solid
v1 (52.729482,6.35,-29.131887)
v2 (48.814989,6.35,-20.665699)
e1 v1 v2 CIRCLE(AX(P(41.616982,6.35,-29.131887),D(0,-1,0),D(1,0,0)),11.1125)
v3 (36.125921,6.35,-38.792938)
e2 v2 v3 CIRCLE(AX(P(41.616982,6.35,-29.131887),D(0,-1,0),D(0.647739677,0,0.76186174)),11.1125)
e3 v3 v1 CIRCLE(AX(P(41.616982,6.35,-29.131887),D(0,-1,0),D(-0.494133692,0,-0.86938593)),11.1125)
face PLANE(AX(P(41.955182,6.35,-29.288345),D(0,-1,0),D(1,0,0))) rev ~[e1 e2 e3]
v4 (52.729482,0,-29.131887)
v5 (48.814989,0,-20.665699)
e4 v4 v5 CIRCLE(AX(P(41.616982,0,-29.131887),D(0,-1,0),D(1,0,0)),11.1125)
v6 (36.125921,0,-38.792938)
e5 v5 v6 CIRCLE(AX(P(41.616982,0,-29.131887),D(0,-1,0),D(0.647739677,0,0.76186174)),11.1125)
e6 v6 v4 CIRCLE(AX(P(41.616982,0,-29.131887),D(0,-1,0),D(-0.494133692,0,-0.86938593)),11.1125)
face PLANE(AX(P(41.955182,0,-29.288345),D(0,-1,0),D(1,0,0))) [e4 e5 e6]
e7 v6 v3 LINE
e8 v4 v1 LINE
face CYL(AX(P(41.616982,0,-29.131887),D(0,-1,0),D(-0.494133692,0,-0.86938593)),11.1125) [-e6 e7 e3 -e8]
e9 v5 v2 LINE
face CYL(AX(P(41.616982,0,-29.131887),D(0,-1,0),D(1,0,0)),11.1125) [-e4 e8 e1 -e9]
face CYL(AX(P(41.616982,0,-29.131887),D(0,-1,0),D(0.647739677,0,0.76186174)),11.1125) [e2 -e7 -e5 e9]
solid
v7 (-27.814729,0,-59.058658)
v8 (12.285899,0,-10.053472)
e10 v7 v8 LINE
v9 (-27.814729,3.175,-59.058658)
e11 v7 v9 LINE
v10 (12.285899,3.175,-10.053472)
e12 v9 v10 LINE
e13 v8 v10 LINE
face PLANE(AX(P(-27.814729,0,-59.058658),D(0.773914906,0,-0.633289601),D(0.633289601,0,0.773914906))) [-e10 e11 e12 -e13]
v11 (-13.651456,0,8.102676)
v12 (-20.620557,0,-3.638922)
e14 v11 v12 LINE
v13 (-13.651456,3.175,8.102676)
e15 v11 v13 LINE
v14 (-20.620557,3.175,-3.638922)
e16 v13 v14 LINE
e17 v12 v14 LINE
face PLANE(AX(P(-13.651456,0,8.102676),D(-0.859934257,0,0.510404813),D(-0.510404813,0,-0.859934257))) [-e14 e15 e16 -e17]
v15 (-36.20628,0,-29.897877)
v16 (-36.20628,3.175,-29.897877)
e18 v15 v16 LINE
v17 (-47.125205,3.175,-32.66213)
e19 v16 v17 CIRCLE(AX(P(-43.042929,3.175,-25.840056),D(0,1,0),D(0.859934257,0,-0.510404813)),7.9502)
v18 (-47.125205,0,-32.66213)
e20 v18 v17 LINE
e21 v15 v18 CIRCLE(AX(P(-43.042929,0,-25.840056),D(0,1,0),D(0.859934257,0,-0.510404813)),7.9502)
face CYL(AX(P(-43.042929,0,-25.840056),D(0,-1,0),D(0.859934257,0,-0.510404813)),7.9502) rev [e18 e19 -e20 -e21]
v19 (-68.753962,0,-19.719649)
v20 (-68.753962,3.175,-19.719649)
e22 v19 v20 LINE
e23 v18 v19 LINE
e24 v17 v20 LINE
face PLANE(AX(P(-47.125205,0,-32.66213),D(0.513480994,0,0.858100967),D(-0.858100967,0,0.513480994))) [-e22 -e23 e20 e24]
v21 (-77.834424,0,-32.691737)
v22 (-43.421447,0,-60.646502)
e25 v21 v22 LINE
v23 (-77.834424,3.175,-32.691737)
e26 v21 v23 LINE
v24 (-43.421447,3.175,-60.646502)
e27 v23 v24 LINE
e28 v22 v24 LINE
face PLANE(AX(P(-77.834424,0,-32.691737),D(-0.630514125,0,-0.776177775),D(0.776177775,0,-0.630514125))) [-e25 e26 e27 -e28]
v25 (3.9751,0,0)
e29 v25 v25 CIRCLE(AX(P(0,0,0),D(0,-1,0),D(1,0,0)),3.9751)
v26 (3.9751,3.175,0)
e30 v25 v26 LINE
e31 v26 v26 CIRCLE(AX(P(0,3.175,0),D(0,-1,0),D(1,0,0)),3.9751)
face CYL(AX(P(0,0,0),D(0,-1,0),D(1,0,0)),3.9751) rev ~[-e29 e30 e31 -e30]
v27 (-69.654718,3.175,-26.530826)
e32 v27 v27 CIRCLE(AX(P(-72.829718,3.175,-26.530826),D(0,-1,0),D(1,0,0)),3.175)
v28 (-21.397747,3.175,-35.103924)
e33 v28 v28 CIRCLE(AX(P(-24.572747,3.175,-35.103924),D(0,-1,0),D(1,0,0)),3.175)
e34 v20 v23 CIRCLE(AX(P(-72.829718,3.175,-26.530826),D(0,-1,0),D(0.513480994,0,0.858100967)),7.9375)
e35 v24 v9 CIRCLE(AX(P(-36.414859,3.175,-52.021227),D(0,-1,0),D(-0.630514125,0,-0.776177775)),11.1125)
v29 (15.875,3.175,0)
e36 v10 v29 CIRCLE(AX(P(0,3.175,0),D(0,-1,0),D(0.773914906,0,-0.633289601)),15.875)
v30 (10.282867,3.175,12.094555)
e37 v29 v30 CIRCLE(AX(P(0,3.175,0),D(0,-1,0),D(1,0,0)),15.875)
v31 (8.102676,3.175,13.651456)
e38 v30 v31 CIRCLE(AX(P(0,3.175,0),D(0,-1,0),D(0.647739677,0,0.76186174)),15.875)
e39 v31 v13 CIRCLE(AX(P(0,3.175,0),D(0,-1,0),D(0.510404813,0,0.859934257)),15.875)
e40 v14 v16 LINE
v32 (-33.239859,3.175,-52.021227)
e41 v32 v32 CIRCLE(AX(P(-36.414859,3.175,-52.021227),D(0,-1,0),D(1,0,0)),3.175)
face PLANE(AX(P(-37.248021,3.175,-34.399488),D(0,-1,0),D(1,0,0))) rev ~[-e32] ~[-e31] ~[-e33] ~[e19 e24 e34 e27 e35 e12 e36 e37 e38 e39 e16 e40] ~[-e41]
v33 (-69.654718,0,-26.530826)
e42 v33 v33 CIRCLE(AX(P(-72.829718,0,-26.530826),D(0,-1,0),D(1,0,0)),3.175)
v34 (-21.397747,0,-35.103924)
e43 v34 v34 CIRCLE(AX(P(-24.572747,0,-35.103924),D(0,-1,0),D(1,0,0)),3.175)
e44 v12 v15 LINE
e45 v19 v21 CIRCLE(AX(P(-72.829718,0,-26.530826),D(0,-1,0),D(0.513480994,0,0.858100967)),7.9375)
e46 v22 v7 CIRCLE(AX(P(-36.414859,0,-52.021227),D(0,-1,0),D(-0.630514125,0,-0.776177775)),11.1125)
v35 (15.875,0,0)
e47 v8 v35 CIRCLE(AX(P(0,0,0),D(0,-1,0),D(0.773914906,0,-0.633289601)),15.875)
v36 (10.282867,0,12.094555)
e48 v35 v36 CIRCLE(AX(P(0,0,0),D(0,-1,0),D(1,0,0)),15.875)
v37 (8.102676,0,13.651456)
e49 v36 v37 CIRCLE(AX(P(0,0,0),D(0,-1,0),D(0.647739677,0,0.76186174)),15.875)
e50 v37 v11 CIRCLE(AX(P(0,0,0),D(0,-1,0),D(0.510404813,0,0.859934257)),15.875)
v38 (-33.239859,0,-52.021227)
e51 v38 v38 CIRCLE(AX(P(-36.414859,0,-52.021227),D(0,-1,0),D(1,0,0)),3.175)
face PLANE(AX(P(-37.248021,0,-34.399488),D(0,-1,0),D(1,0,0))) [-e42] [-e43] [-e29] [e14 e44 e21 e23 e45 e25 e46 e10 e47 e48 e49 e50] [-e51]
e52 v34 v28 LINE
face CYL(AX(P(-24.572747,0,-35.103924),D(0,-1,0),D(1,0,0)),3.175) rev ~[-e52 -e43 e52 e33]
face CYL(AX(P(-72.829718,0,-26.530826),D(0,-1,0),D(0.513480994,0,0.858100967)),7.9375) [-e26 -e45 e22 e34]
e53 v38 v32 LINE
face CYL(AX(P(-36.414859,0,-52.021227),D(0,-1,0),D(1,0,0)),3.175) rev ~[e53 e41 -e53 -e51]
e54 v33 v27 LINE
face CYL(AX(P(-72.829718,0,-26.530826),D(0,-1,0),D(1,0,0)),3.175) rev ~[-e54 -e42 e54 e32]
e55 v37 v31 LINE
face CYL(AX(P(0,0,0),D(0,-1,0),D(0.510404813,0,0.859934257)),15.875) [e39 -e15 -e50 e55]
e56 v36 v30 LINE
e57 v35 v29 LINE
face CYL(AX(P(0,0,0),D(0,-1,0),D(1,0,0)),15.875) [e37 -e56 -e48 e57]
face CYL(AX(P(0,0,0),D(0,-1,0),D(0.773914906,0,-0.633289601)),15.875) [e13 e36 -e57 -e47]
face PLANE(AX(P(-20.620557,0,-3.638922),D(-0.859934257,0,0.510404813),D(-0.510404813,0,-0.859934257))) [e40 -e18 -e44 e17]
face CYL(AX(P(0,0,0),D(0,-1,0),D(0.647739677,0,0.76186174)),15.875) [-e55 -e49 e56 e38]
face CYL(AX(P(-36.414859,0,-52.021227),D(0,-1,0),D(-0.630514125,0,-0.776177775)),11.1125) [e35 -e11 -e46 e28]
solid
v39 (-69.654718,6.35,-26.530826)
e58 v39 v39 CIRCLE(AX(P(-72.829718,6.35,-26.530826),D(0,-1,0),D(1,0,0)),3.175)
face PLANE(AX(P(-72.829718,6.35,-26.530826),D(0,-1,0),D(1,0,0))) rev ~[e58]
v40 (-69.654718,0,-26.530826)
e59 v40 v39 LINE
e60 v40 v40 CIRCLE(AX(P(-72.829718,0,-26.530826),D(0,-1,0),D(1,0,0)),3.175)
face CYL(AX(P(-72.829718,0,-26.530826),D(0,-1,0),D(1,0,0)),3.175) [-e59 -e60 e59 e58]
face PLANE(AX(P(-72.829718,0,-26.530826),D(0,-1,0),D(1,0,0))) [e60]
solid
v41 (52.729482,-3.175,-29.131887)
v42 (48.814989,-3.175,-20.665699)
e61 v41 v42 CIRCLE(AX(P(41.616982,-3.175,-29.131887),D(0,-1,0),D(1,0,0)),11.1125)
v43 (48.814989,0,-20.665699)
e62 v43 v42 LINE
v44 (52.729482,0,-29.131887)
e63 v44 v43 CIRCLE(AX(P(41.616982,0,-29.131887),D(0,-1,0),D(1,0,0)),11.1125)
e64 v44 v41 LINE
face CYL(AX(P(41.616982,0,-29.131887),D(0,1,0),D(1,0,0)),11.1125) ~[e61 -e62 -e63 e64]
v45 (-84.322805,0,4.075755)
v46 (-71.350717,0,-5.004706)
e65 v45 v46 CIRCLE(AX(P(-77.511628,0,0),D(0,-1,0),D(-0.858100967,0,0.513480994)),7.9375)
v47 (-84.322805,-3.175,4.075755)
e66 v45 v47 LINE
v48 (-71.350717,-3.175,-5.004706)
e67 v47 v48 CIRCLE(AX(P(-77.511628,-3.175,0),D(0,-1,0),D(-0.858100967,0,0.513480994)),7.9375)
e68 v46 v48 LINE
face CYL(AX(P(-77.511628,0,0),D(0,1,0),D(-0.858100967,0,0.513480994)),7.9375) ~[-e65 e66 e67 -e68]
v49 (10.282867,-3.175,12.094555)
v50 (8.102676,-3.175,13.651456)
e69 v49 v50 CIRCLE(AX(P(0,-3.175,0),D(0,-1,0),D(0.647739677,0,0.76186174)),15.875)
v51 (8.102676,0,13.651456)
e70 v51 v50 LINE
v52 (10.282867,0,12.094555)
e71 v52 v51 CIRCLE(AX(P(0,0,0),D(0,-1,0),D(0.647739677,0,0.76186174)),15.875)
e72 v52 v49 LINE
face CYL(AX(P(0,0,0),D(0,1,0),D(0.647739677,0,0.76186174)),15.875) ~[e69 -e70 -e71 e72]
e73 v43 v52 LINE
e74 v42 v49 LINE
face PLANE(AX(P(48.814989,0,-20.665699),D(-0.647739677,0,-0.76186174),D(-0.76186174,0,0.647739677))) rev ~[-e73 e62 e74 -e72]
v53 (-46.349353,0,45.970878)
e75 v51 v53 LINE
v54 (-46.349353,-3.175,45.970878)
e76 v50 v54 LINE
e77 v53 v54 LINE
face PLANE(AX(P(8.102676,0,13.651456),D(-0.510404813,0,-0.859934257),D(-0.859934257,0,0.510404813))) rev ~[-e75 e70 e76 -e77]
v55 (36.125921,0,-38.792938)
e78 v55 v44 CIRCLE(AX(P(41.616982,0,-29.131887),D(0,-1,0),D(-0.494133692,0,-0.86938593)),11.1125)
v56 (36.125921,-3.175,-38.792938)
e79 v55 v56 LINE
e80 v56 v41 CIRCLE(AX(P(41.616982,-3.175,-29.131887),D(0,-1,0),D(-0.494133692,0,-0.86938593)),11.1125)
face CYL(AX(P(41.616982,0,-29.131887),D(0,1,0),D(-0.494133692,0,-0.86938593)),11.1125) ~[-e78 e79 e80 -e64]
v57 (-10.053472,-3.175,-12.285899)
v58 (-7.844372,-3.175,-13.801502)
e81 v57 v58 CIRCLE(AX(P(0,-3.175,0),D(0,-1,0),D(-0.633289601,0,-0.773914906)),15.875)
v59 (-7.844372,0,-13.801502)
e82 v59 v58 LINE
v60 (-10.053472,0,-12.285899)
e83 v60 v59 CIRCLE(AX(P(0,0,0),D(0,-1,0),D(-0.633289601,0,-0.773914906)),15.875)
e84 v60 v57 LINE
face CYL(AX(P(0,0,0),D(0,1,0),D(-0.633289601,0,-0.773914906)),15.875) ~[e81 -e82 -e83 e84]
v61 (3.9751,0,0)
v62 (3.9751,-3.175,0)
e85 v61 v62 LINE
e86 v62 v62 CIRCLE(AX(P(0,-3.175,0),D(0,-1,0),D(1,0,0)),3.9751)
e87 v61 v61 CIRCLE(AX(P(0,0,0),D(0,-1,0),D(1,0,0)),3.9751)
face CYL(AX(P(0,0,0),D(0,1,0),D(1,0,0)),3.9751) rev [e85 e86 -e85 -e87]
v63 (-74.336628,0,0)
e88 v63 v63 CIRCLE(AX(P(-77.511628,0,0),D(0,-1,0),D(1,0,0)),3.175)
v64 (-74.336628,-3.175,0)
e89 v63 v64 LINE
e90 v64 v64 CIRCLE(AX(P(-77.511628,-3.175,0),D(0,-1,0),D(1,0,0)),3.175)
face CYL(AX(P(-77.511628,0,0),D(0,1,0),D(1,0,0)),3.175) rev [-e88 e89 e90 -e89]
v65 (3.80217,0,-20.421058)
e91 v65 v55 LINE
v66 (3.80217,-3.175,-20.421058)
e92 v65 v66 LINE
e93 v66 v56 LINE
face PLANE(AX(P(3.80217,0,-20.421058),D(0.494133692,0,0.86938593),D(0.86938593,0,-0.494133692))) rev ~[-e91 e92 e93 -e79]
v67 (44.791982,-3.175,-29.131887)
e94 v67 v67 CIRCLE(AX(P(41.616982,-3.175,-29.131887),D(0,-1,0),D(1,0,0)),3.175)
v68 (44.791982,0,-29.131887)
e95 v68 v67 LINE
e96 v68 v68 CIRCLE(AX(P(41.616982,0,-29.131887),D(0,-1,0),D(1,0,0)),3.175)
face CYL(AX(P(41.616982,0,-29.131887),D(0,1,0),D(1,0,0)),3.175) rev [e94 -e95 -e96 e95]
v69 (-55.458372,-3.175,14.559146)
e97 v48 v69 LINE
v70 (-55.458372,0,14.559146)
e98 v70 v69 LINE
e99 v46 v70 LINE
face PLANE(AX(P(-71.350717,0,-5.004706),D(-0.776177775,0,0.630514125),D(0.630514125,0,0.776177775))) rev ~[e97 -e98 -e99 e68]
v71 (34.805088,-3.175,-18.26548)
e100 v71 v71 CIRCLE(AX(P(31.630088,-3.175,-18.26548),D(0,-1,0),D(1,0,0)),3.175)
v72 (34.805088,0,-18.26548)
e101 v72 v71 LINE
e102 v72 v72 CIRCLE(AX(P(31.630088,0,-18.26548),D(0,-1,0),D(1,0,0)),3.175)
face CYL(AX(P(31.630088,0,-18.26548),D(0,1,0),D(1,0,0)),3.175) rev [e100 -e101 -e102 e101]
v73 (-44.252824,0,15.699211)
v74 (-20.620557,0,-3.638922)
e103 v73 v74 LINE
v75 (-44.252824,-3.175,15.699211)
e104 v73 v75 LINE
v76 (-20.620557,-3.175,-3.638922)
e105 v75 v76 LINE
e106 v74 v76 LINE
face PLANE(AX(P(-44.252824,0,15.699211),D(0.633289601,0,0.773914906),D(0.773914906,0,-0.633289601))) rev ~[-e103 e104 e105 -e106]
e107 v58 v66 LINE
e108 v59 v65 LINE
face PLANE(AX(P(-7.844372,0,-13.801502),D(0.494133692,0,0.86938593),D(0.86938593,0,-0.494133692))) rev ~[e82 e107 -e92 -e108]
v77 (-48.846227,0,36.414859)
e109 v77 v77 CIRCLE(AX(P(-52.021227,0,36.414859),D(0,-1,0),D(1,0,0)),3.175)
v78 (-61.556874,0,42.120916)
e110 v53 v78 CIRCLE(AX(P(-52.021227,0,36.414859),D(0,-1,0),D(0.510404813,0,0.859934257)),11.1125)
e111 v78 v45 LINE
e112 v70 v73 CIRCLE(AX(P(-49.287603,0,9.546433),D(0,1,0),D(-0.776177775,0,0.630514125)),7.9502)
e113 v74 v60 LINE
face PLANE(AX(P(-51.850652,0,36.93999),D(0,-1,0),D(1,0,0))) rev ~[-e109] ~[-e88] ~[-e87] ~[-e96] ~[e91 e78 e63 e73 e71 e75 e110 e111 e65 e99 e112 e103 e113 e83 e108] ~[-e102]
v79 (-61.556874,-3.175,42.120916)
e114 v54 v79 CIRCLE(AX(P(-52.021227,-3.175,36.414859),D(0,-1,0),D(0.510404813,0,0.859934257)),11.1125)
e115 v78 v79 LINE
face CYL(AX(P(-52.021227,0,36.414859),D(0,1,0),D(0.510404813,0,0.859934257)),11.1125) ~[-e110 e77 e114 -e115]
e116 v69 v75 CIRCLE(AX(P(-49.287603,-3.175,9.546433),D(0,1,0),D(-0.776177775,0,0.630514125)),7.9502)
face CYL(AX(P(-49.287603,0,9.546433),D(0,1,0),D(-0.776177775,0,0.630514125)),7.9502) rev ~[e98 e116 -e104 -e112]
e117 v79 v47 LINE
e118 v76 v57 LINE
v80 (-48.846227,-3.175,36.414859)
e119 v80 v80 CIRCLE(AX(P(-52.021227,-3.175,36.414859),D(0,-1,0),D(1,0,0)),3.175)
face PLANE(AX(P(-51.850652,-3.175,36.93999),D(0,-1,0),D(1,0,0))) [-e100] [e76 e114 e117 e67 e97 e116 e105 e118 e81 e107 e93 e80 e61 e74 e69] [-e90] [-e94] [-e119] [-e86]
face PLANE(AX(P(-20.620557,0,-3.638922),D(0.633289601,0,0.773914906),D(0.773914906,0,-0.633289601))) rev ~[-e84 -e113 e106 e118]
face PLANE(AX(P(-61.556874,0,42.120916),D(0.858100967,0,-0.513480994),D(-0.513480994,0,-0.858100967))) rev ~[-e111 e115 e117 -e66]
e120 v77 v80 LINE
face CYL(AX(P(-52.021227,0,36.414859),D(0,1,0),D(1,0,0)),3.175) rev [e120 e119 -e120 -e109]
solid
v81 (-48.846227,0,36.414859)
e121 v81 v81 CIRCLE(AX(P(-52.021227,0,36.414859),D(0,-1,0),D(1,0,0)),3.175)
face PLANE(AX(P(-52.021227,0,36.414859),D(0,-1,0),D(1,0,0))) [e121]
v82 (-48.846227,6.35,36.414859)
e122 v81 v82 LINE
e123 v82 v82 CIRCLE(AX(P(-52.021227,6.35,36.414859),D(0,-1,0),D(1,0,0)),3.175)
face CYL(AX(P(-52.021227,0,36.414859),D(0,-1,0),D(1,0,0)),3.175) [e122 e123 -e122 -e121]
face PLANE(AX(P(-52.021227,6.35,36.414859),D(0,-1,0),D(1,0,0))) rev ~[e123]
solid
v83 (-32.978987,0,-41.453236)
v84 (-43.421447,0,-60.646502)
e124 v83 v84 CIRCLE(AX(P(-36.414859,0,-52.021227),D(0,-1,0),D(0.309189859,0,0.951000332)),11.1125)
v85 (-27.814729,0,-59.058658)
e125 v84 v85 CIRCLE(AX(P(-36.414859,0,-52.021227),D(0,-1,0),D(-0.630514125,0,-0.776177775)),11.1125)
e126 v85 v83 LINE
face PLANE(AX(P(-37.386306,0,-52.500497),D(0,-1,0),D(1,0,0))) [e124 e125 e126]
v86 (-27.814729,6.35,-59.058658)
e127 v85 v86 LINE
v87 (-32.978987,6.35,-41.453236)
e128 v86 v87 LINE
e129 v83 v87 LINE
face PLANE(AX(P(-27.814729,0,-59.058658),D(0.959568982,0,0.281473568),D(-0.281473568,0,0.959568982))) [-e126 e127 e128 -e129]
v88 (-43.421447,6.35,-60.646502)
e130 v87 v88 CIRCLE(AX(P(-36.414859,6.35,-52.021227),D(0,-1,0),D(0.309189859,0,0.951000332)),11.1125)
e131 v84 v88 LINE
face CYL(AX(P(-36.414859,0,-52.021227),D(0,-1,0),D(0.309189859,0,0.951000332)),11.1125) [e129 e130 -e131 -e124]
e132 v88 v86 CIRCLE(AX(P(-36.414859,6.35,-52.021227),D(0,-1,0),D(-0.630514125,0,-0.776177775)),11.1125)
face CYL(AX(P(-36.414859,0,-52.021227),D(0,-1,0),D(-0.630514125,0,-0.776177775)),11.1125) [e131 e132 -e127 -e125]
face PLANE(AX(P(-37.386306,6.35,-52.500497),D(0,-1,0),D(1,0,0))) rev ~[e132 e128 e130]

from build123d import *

# Parameters (mm, degrees)
F0_R     = 3.175
F0_R_2   = 3.9751
F1_DEPTH = 3.175
F2_DEPTH = 3.175
F3_DEPTH = 6.35


with BuildPart() as f1:
    # F0 (on Front) → F1 (new body)
    with BuildSketch(Plane.XZ):
        with BuildLine():
            ThreePointArc((-46.3493534686, 45.9708783013), (-54.7484486293, 47.1875056253), (-61.5568739456, 42.1209164099))
            ThreePointArc((-61.5568739456, 42.1209164099), (-54.9811913991, 25.7038240558), (-40.908726953, 36.4148588671))
            ThreePointArc((-40.908726953, 36.4148588671), (-42.3641997099, 41.9129931941), (-46.3493534686, 45.9708783013))
        make_face()
        with Locations((-52.021226953, 36.4148588671)):
            Circle(F0_R, mode=Mode.SUBTRACT)
        with BuildLine():
            ThreePointArc((-84.3228045832, 4.0757553877), (-75.3973678413, 7.6507391509), (-69.5741281599, 0))
            ThreePointArc((-69.5741281599, 0), (-70.031449753, -2.6553412683), (-71.3507170735, -5.004705869))
            Line((-71.3507170735, -5.004705869), (-55.4583719126, 14.5591462439))
            ThreePointArc((-55.4583719126, 14.5591462439), (-50.0923114236, 17.4558022885), (-44.252824382, 15.6992111283))
            Line((-44.252824382, 15.6992111283), (-20.6205567973, -3.6389217878))
            Line((-20.6205567973, -3.6389217878), (-13.6514563346, 8.1026764062))
            ThreePointArc((-13.6514563346, 8.1026764062), (-3.9235799147, 15.3824947799), (8.1026764062, 13.6514563346))
            Line((8.1026764062, 13.6514563346), (-46.3493534686, 45.9708783013))
            ThreePointArc((-46.3493534686, 45.9708783013), (-42.3641997099, 41.9129931941), (-40.908726953, 36.4148588671))
            ThreePointArc((-40.908726953, 36.4148588671), (-54.9811913991, 25.7038240558), (-61.5568739456, 42.1209164099))
            Line((-61.5568739456, 42.1209164099), (-84.3228045832, 4.0757553877))
        make_face()
        with BuildLine():
            ThreePointArc((-71.3507170735, -5.004705869), (-70.031449753, -2.6553412683), (-69.5741281599, 0))
            ThreePointArc((-69.5741281599, 0), (-75.3973678413, 7.6507391509), (-84.3228045832, 4.0757553877))
            ThreePointArc((-84.3228045832, 4.0757553877), (-82.0634855183, -6.5026533691), (-71.3507170735, -5.004705869))
        make_face()
        with Locations((-77.5116281599, 0)):
            Circle(F0_R, mode=Mode.SUBTRACT)
        with BuildLine():
            ThreePointArc((10.2828673712, 12.0945551231), (9.2256728938, 12.9190783207), (8.1026764062, 13.6514563346))
            ThreePointArc((8.1026764062, 13.6514563346), (-3.9235799147, 15.3824947799), (-13.6514563346, 8.1026764062))
            ThreePointArc((-13.6514563346, 8.1026764062), (-15.6334389962, -2.7588421758), (-10.053472417, -12.2858991271))
            ThreePointArc((-10.053472417, -12.2858991271), (-8.9809506531, -13.0903838892), (-7.8443723578, -13.8015016325))
            ThreePointArc((-7.8443723578, -13.8015016325), (2.9058081081, -15.6067903247), (12.2858991271, -10.053472417))
            ThreePointArc((12.2858991271, -10.053472417), (14.9508239513, -5.3374608363), (15.875, 0))
            ThreePointArc((15.875, 0), (14.4093050582, 6.6623984226), (10.2828673712, 12.0945551231))
        make_face()
        Circle(F0_R_2, mode=Mode.SUBTRACT)
        with BuildLine():
            Line((-13.6514563346, 8.1026764062), (-20.6205567973, -3.6389217878))
            Line((-20.6205567973, -3.6389217878), (-10.053472417, -12.2858991271))
            ThreePointArc((-10.053472417, -12.2858991271), (-15.6334389962, -2.7588421758), (-13.6514563346, 8.1026764062))
        make_face()
        with BuildLine():
            ThreePointArc((12.2858991271, -10.053472417), (2.9058081081, -15.6067903247), (-7.8443723578, -13.8015016325))
            Line((-7.8443723578, -13.8015016325), (3.8021703794, -20.4210579927))
            Line((3.8021703794, -20.4210579927), (12.2858991271, -10.053472417))
        make_face()
        with BuildLine():
            Line((48.8149887222, -20.6656985075), (10.2828673712, 12.0945551231))
            ThreePointArc((10.2828673712, 12.0945551231), (14.4093050582, 6.6623984226), (15.875, 0))
            ThreePointArc((15.875, 0), (14.9508239513, -5.3374608363), (12.2858991271, -10.053472417))
            Line((12.2858991271, -10.053472417), (3.8021703794, -20.4210579927))
            Line((3.8021703794, -20.4210579927), (36.1259209119, -38.7929382364))
            ThreePointArc((36.1259209119, -38.7929382364), (32.5132668456, -22.7592867919), (48.8149887222, -20.6656985075))
        make_face()
        with Locations((31.630088017, -18.2654802039)):
            Circle(F0_R, mode=Mode.SUBTRACT)
        with BuildLine():
            ThreePointArc((52.7294815624, -29.1318870937), (51.7034951031, -24.4682081979), (48.8149887222, -20.6656985075))
            ThreePointArc((48.8149887222, -20.6656985075), (32.5132668456, -22.7592867919), (36.1259209119, -38.7929382364))
            ThreePointArc((36.1259209119, -38.7929382364), (47.2057311887, -38.7367574137), (52.7294815624, -29.1318870937))
        make_face()
        with Locations((41.6169815624, -29.1318870937)):
            Circle(F0_R, mode=Mode.SUBTRACT)
    extrude(amount=F1_DEPTH)


with BuildPart() as f2:
    # F0 (on Front) → F2 (new body)
    with BuildSketch(Plane.XZ):
        with BuildLine():
            Line((-10.053472417, -12.2858991271), (-20.6205567973, -3.6389217878))
            Line((-20.6205567973, -3.6389217878), (-36.206279503, -29.8978765198))
            ThreePointArc((-36.206279503, -29.8978765198), (-41.0917965274, -33.5471154563), (-47.1252054317, -32.6621304811))
            Line((-47.1252054317, -32.6621304811), (-68.7539623464, -19.7196493227))
            ThreePointArc((-68.7539623464, -19.7196493227), (-65.9248203909, -22.6159440198), (-64.8922177341, -26.530825746))
            ThreePointArc((-64.8922177341, -26.530825746), (-69.4180426753, -33.6977204392), (-77.8344236032, -32.6917368324))
            Line((-77.8344236032, -32.6917368324), (-43.4214470837, -60.6465024739))
            ThreePointArc((-43.4214470837, -60.6465024739), (-46.1761535956, -46.7104095514), (-32.978986563, -41.4532357645))
            ThreePointArc((-32.978986563, -41.4532357645), (-27.4240639292, -45.4902804185), (-25.3023588671, -52.021226953))
            ThreePointArc((-25.3023588671, -52.021226953), (-25.9492821012, -55.7574495383), (-27.8147294781, -59.0586576448))
            Line((-27.8147294781, -59.0586576448), (3.8021703794, -20.4210579927))
            Line((3.8021703794, -20.4210579927), (-7.8443723578, -13.8015016325))
            ThreePointArc((-7.8443723578, -13.8015016325), (-8.9809506531, -13.0903838892), (-10.053472417, -12.2858991271))
        make_face()
        with Locations((-24.5727467635, -35.1039239479)):
            Circle(F0_R, mode=Mode.SUBTRACT)
        with BuildLine():
            ThreePointArc((-43.4214470837, -60.6465024739), (-35.2900672565, -63.0766554875), (-27.8147294781, -59.0586576448))
            Line((-27.8147294781, -59.0586576448), (-32.978986563, -41.4532357645))
            ThreePointArc((-32.978986563, -41.4532357645), (-46.1761535956, -46.7104095514), (-43.4214470837, -60.6465024739))
        make_face()
        with Locations((-36.4148588671, -52.021226953)):
            Circle(F0_R, mode=Mode.SUBTRACT)
        with BuildLine():
            ThreePointArc((-64.8922177341, -26.530825746), (-65.9248203909, -22.6159440198), (-68.7539623464, -19.7196493227))
            ThreePointArc((-68.7539623464, -19.7196493227), (-79.3323711033, -21.9789683876), (-77.8344236032, -32.6917368324))
            ThreePointArc((-77.8344236032, -32.6917368324), (-69.4180426753, -33.6977204392), (-64.8922177341, -26.530825746))
        make_face()
        with Locations((-72.8297177341, -26.530825746)):
            Circle(F0_R, mode=Mode.SUBTRACT)
        with BuildLine():
            ThreePointArc((10.2828673712, 12.0945551231), (9.2256728938, 12.9190783207), (8.1026764062, 13.6514563346))
            ThreePointArc((8.1026764062, 13.6514563346), (-3.9235799147, 15.3824947799), (-13.6514563346, 8.1026764062))
            ThreePointArc((-13.6514563346, 8.1026764062), (-15.6334389962, -2.7588421758), (-10.053472417, -12.2858991271))
            ThreePointArc((-10.053472417, -12.2858991271), (-8.9809506531, -13.0903838892), (-7.8443723578, -13.8015016325))
            ThreePointArc((-7.8443723578, -13.8015016325), (2.9058081081, -15.6067903247), (12.2858991271, -10.053472417))
            ThreePointArc((12.2858991271, -10.053472417), (14.9508239513, -5.3374608363), (15.875, 0))
            ThreePointArc((15.875, 0), (14.4093050582, 6.6623984226), (10.2828673712, 12.0945551231))
        make_face()
        Circle(F0_R_2, mode=Mode.SUBTRACT)
        with BuildLine():
            ThreePointArc((12.2858991271, -10.053472417), (2.9058081081, -15.6067903247), (-7.8443723578, -13.8015016325))
            Line((-7.8443723578, -13.8015016325), (3.8021703794, -20.4210579927))
            Line((3.8021703794, -20.4210579927), (12.2858991271, -10.053472417))
        make_face()
        with BuildLine():
            Line((-13.6514563346, 8.1026764062), (-20.6205567973, -3.6389217878))
            Line((-20.6205567973, -3.6389217878), (-10.053472417, -12.2858991271))
            ThreePointArc((-10.053472417, -12.2858991271), (-15.6334389962, -2.7588421758), (-13.6514563346, 8.1026764062))
        make_face()
        with BuildLine():
            Line((-32.978986563, -41.4532357645), (-27.8147294781, -59.0586576448))
            ThreePointArc((-27.8147294781, -59.0586576448), (-25.9492821012, -55.7574495383), (-25.3023588671, -52.021226953))
            ThreePointArc((-25.3023588671, -52.021226953), (-27.4240639292, -45.4902804185), (-32.978986563, -41.4532357645))
        make_face()
    extrude(amount=-F2_DEPTH)


with BuildPart() as f3:
    # F0 (on Front) → F3 (new body)
    with BuildSketch(Plane.XZ):
        with BuildLine():
            ThreePointArc((-43.4214470837, -60.6465024739), (-35.2900672565, -63.0766554875), (-27.8147294781, -59.0586576448))
            Line((-27.8147294781, -59.0586576448), (-32.978986563, -41.4532357645))
            ThreePointArc((-32.978986563, -41.4532357645), (-46.1761535956, -46.7104095514), (-43.4214470837, -60.6465024739))
        make_face()
        with Locations((-36.4148588671, -52.021226953)):
            Circle(F0_R, mode=Mode.SUBTRACT)
        with Locations((-36.4148588671, -52.021226953)):
            Circle(F0_R)
    extrude(amount=-F3_DEPTH)


with BuildPart() as f3b:
    # F0 (on Front) → F3, piece 2 (new body)
    with BuildSketch(Plane.XZ):
        with Locations((-72.8297177341, -26.530825746)):
            Circle(F0_R)
    extrude(amount=-F3_DEPTH)


with BuildPart() as f3c:
    # F0 (on Front) → F3, piece 3 (new body)
    with BuildSketch(Plane.XZ):
        with BuildLine():
            ThreePointArc((52.7294815624, -29.1318870937), (51.7034951031, -24.4682081979), (48.8149887222, -20.6656985075))
            ThreePointArc((48.8149887222, -20.6656985075), (32.5132668456, -22.7592867919), (36.1259209119, -38.7929382364))
            ThreePointArc((36.1259209119, -38.7929382364), (47.2057311887, -38.7367574137), (52.7294815624, -29.1318870937))
        make_face()
        with Locations((41.6169815624, -29.1318870937)):
            Circle(F0_R, mode=Mode.SUBTRACT)
        with Locations((41.6169815624, -29.1318870937)):
            Circle(F0_R)
    extrude(amount=-F3_DEPTH)


with BuildPart() as f3d:
    # F0 (on Front) → F3, piece 4 (new body)
    with BuildSketch(Plane.XZ):
        with Locations((-52.021226953, 36.4148588671)):
            Circle(F0_R)
    extrude(amount=-F3_DEPTH)


solid = Compound([f1.part, f2.part, f3.part, f3b.part, f3c.part, f3d.part])
